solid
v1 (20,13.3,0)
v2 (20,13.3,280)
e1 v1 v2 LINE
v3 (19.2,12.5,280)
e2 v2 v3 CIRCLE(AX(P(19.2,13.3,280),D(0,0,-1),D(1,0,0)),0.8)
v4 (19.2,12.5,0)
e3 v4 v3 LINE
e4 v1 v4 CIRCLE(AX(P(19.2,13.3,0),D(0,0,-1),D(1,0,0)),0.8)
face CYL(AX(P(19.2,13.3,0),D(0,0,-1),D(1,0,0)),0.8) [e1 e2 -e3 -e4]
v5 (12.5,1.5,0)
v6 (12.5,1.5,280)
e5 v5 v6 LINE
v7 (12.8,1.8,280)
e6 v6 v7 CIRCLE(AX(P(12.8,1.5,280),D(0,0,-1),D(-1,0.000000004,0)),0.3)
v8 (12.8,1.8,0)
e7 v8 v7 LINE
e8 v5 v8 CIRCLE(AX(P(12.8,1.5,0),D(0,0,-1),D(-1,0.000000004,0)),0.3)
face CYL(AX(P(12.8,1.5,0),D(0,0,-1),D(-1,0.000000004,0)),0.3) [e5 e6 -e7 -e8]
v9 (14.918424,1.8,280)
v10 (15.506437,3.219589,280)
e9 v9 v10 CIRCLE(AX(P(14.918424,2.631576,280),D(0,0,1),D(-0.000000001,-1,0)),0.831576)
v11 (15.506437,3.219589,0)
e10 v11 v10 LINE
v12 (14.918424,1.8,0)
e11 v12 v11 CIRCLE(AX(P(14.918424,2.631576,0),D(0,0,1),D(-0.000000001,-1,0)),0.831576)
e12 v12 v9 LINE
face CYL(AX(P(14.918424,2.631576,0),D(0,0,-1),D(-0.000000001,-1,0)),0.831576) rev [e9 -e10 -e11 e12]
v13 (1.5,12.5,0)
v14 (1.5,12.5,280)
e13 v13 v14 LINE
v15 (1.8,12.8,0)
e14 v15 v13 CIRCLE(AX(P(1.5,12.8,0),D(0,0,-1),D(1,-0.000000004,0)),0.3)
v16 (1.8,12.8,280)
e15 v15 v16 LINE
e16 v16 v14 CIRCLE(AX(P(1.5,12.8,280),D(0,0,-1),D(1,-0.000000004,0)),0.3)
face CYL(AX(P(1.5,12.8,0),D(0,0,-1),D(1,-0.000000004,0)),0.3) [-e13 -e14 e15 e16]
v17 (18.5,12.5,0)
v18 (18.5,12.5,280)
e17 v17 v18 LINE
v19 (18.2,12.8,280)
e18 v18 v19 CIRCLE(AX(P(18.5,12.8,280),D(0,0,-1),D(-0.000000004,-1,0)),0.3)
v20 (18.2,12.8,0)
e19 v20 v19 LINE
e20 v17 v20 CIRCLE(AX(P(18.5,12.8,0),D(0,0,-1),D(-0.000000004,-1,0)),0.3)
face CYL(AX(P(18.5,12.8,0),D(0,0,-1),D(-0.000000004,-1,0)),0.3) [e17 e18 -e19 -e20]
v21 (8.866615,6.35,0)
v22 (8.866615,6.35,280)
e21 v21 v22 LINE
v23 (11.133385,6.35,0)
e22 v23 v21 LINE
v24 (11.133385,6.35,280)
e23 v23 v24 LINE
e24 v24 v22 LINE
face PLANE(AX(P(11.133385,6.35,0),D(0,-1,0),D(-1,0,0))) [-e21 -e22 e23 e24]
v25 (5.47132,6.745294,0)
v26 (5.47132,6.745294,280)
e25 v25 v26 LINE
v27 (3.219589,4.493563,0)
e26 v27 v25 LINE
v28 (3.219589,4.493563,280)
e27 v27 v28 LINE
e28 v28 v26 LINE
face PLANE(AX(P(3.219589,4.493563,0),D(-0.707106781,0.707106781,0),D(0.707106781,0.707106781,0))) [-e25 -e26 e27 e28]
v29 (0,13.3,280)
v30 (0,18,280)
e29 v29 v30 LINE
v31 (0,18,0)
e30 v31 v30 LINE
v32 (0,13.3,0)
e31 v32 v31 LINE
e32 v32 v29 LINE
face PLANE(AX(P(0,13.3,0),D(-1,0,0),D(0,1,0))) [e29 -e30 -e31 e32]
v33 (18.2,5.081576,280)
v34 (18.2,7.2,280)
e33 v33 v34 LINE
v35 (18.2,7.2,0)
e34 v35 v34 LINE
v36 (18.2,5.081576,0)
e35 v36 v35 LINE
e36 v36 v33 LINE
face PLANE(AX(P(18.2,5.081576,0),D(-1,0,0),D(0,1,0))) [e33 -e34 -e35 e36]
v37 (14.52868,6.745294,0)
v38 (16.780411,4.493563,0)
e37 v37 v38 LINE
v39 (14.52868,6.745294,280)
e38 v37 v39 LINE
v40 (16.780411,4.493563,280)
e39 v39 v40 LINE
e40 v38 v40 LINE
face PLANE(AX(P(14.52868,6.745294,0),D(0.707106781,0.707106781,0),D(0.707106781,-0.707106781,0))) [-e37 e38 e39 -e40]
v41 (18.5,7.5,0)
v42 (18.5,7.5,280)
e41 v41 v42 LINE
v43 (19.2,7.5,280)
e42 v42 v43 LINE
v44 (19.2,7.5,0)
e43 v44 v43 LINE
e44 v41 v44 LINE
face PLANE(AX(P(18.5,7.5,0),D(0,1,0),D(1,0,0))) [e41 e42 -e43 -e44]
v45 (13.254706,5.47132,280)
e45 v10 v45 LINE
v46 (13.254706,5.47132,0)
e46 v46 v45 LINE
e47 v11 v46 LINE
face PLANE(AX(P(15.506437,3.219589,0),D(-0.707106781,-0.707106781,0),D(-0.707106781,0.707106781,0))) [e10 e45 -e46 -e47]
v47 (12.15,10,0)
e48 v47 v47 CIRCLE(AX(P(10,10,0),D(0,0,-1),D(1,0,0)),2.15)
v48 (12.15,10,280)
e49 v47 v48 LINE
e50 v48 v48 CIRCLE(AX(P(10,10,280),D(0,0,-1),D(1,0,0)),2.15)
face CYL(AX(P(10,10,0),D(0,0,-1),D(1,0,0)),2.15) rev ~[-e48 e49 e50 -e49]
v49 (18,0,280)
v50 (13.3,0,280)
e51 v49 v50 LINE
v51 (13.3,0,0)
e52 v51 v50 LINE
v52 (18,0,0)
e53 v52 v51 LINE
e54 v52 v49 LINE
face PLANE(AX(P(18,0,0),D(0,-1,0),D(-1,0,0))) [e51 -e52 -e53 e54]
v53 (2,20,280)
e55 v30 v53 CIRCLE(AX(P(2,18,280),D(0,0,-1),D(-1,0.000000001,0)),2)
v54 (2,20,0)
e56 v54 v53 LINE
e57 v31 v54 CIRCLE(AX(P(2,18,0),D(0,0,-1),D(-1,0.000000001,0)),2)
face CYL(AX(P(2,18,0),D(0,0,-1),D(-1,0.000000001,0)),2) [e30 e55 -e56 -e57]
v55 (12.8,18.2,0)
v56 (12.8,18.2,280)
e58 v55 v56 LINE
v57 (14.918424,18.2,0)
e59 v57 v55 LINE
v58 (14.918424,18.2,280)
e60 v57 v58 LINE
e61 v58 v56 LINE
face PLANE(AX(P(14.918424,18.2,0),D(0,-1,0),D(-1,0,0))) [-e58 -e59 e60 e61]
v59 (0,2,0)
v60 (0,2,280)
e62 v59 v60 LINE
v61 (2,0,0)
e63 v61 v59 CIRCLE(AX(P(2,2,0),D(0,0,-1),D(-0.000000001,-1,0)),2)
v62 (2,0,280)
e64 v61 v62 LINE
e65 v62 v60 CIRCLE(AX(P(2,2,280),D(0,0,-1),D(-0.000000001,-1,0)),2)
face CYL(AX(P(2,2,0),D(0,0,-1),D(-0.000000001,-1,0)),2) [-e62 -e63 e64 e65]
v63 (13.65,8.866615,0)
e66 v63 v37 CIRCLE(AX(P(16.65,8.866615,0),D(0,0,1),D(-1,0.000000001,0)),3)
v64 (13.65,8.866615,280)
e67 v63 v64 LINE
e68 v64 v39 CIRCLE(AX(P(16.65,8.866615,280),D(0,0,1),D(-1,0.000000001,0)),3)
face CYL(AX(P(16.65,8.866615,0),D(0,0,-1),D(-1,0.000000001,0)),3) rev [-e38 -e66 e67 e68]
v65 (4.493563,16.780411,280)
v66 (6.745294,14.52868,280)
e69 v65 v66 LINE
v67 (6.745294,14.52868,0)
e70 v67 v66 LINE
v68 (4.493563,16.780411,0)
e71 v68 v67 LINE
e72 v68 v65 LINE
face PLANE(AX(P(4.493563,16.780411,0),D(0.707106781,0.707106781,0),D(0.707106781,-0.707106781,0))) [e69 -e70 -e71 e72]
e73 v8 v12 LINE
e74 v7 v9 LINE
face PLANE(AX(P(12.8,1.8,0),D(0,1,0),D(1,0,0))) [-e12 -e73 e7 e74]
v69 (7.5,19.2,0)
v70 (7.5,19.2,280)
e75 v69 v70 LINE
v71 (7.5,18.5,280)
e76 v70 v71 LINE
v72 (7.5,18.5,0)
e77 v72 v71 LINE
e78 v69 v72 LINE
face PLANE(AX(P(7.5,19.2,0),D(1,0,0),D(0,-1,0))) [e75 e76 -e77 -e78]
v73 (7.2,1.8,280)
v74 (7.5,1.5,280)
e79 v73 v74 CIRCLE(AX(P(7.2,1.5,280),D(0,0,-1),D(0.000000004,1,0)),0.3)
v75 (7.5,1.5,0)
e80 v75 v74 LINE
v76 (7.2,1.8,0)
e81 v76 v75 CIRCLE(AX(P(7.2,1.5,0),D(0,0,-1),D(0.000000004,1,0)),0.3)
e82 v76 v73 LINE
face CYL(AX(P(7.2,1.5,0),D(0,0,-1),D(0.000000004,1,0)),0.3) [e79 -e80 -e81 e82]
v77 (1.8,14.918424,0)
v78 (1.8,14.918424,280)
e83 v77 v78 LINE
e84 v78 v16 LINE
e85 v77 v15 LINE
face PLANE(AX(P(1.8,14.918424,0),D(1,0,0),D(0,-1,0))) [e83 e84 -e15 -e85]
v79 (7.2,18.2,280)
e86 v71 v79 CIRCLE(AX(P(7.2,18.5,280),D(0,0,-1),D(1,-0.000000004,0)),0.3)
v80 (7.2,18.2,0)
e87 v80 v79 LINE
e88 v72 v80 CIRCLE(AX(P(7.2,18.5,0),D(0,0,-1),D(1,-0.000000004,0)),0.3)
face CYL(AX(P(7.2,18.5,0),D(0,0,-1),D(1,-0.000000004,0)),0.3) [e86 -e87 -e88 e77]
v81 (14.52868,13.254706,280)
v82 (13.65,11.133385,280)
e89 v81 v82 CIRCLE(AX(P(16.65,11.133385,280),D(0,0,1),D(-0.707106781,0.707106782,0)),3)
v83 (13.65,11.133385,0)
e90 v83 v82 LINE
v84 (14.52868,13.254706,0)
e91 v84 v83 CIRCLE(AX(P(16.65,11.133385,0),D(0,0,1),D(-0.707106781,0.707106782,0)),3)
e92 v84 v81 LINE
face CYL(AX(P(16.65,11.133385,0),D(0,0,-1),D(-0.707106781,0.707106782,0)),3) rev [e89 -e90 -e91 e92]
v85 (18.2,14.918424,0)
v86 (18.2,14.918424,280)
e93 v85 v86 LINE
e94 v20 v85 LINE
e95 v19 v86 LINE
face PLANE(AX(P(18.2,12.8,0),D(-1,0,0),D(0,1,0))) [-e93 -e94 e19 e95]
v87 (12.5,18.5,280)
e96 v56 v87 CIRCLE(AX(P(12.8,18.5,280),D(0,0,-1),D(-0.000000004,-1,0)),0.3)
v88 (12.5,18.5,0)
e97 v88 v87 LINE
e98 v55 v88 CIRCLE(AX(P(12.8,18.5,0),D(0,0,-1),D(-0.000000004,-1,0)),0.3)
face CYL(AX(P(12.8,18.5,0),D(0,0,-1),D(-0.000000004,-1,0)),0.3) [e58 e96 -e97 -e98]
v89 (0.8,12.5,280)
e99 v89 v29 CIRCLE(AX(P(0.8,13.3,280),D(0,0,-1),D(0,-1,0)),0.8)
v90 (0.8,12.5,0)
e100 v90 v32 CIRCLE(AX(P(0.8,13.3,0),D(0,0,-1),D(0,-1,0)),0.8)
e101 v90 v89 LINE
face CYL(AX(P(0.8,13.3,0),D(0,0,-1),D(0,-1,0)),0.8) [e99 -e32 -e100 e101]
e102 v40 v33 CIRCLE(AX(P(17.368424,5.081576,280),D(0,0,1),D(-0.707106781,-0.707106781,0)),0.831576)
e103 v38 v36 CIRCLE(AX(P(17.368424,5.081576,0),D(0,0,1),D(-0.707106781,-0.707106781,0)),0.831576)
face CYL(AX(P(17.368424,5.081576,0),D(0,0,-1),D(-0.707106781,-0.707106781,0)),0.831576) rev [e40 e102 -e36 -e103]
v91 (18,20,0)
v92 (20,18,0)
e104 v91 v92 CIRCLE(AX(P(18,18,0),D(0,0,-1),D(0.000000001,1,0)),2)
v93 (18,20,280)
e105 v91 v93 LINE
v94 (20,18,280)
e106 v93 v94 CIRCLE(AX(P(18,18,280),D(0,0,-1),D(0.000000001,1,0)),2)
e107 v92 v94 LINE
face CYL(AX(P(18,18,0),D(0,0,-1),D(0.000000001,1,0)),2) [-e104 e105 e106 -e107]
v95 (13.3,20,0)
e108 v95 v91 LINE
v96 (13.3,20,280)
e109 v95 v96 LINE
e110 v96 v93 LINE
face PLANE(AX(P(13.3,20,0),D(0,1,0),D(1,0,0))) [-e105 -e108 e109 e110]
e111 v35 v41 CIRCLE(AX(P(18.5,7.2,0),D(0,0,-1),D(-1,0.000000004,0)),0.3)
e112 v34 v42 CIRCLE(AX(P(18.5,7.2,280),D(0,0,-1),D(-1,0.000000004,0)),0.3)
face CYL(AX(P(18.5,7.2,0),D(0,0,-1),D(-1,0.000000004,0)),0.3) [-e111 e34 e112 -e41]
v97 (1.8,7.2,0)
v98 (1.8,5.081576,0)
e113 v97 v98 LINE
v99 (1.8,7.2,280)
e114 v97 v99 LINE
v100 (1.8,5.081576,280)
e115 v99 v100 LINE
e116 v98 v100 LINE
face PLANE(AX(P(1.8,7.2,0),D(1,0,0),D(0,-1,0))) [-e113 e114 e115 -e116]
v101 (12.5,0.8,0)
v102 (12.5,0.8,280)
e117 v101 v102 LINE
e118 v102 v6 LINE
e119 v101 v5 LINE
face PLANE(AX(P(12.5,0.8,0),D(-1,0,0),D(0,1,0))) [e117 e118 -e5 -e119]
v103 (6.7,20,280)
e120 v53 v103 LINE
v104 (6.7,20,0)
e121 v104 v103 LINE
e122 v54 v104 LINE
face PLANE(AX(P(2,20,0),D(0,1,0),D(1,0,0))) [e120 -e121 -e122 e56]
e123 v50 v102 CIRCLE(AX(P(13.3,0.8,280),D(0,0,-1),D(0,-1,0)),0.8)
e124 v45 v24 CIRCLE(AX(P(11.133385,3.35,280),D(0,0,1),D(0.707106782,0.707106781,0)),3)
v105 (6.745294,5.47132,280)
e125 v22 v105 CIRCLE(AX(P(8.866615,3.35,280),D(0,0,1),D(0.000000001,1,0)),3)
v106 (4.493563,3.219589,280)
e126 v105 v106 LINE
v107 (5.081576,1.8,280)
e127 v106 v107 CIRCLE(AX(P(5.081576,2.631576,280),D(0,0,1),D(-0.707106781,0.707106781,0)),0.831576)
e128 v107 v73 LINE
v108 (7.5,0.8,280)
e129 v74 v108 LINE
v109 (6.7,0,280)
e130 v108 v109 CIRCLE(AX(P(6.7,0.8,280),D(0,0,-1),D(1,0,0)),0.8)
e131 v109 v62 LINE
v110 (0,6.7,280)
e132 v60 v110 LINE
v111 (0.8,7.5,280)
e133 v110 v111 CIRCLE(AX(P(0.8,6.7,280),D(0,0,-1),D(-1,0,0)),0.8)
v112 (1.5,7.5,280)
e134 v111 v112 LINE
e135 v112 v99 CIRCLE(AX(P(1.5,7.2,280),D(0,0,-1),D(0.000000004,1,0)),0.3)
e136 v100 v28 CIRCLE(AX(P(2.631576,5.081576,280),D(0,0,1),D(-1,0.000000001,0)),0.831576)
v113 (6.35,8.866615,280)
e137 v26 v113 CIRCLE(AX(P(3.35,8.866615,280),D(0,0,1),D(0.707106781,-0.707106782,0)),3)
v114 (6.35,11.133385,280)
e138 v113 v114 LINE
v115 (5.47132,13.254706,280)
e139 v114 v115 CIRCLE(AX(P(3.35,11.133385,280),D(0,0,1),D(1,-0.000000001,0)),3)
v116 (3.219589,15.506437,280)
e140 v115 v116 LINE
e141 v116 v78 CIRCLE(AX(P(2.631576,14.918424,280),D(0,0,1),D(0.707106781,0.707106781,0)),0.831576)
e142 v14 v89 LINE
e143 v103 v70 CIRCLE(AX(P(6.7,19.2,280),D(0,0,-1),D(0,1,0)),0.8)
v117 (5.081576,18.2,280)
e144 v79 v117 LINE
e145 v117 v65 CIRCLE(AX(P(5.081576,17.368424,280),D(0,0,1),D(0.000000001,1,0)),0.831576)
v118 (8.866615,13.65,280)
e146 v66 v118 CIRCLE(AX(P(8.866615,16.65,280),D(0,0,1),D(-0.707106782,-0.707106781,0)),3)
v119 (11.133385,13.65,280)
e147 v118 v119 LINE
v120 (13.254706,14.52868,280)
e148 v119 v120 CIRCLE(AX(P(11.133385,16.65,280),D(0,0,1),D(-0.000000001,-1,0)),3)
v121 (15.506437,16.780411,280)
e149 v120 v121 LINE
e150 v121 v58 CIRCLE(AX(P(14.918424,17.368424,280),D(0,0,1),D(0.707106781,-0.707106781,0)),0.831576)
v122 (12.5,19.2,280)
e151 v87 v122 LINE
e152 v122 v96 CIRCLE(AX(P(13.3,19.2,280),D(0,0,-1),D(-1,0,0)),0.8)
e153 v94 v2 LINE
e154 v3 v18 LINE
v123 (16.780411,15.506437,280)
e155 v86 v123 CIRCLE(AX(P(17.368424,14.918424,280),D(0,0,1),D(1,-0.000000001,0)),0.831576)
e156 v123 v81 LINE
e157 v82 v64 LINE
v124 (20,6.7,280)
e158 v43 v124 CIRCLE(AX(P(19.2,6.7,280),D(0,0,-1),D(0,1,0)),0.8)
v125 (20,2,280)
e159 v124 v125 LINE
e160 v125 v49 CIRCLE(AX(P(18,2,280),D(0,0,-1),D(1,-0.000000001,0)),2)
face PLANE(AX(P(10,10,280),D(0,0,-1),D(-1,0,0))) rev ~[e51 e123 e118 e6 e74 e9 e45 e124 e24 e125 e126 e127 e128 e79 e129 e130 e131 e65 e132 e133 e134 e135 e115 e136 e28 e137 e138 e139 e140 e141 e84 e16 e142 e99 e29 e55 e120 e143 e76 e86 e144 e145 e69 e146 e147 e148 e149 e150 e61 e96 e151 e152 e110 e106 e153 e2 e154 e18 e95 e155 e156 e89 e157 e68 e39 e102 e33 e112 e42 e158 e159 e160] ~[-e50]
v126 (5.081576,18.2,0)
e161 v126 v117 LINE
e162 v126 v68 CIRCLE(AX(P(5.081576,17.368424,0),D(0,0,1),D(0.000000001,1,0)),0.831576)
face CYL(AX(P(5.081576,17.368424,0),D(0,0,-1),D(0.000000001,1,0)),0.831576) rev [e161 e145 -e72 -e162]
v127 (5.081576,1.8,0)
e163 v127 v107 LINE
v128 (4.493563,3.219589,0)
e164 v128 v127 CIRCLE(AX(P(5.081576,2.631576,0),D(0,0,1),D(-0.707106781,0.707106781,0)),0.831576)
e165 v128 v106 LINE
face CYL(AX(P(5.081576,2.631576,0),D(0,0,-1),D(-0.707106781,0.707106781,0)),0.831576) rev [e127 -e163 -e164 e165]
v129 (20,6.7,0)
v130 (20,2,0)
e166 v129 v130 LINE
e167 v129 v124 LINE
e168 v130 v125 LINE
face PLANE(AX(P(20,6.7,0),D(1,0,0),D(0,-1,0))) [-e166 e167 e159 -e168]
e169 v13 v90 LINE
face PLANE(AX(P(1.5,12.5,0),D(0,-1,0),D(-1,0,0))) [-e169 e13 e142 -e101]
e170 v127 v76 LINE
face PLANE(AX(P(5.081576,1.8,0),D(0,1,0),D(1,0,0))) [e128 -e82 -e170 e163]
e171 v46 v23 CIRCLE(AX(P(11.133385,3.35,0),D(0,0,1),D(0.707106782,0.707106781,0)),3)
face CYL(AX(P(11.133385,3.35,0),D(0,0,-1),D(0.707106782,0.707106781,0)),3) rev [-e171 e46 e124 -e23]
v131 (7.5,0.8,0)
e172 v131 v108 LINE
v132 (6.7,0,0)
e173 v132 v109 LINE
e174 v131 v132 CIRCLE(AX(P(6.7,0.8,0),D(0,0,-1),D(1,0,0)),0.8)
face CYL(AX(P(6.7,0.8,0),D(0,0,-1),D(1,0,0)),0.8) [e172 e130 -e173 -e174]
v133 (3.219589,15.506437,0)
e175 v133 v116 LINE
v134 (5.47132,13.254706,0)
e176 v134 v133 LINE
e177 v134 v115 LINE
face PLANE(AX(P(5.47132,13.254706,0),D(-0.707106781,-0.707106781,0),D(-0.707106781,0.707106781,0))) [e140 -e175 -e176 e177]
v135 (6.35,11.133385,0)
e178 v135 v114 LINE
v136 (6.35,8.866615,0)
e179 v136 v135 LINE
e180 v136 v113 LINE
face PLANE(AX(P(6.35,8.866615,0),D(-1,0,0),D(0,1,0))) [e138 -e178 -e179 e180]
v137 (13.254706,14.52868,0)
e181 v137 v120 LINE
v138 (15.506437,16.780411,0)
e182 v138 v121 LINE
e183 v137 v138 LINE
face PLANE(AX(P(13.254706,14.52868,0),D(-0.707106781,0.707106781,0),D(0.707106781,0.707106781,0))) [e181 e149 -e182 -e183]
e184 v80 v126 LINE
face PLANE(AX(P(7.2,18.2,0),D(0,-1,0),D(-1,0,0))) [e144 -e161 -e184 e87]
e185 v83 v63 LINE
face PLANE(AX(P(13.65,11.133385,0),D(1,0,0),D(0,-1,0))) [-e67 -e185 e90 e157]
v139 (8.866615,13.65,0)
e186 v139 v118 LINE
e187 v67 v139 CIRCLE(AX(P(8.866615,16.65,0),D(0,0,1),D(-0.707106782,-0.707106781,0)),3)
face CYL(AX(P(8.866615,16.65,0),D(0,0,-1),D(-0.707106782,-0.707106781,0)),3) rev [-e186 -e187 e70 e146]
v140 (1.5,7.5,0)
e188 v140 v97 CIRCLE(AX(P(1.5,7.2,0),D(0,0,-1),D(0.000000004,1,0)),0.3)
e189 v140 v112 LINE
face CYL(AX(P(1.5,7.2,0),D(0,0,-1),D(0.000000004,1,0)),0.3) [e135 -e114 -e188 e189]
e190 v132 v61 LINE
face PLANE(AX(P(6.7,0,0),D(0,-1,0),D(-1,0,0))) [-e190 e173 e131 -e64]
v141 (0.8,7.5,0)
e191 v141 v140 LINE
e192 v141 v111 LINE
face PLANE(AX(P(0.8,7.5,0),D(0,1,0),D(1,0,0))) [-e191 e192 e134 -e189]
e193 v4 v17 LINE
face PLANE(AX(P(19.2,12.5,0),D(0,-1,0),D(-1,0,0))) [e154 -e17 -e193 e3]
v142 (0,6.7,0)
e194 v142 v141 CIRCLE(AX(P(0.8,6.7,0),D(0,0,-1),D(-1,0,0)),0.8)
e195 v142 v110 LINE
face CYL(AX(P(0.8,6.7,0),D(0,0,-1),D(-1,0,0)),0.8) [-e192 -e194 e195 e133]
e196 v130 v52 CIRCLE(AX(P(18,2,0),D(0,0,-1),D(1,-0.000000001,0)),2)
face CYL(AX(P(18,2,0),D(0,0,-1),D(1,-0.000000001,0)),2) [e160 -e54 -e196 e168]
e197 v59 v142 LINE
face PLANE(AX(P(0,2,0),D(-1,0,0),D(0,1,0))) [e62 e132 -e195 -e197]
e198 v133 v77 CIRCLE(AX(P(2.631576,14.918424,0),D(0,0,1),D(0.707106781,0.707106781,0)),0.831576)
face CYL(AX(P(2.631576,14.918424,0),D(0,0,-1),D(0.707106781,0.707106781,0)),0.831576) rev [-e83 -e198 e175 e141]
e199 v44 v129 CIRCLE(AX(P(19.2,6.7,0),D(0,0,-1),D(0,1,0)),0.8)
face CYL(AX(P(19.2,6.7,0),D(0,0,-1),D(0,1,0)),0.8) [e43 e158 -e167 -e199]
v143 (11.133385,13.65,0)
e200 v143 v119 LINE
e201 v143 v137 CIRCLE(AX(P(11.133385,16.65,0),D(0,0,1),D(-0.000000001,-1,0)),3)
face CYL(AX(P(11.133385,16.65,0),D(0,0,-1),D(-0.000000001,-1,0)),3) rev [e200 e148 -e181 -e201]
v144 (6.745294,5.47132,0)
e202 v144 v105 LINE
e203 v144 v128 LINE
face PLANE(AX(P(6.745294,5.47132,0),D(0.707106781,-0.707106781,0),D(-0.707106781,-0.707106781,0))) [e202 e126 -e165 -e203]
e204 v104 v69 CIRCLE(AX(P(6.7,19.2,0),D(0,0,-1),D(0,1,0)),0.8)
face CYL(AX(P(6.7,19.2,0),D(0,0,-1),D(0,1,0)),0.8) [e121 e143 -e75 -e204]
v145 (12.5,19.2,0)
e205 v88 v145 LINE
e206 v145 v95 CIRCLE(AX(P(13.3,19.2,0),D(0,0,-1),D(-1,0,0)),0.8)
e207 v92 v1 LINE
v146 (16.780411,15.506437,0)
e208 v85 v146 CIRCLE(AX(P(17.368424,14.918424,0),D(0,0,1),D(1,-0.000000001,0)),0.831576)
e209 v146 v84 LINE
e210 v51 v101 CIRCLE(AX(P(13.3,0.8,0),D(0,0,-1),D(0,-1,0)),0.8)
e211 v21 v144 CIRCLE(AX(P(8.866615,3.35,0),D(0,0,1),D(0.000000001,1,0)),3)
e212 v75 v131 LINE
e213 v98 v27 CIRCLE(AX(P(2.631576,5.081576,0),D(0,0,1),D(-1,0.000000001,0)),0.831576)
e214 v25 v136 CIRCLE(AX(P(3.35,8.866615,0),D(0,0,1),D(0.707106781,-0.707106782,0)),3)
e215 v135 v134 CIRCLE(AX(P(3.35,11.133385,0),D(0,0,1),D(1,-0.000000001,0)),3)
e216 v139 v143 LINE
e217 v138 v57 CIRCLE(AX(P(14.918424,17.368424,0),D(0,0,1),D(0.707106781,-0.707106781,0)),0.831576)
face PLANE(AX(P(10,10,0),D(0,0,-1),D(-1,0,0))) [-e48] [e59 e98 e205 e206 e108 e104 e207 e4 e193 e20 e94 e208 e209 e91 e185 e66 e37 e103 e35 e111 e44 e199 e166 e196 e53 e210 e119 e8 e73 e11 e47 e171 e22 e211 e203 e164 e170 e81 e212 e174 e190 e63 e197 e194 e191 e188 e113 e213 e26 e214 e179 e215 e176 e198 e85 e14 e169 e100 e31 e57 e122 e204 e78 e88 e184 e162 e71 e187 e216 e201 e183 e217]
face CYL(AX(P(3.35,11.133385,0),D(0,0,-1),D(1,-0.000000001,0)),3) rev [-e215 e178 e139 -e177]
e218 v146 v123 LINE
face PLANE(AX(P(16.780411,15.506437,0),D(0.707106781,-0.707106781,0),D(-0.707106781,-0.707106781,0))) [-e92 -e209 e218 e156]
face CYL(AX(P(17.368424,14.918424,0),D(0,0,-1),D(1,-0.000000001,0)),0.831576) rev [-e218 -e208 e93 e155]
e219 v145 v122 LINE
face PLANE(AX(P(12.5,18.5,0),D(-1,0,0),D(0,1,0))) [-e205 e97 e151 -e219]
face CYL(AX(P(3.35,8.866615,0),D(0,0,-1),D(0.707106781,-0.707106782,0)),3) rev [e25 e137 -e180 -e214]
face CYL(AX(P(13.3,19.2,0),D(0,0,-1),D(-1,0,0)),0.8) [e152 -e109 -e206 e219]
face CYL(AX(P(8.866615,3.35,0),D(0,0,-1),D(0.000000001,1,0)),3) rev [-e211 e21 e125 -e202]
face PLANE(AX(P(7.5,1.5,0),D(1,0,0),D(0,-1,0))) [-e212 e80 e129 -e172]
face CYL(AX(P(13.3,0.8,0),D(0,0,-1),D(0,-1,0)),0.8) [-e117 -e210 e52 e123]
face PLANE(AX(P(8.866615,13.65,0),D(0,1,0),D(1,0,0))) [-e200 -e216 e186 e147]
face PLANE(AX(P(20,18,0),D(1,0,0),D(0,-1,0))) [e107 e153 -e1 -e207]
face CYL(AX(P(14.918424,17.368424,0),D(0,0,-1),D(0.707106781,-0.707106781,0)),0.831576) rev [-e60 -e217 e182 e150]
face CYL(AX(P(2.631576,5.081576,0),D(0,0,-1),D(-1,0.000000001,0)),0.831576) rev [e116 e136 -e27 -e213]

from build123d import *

# Parameters (mm, degrees)
ESQUISSE1_R        = 2.15
BOSS_EXTRU_1_DEPTH = 280


with BuildPart() as part:
    # Esquisse1 → Boss.-Extru.1 (new body)
    with BuildSketch(Plane(origin=(0, 0, 0), x_dir=(-1, 0, 0), z_dir=(0, 0, -1))):
        with BuildLine():
            Line((-20, 6.7), (-20, 2))
            ThreePointArc((-20, 2), (-19.414213562, 0.585786438), (-18, 0))
            Line((-18, 0), (-13.3, 0))
            ThreePointArc((-13.3, 0), (-12.734314575, 0.234314575), (-12.5, 0.8))
            Line((-12.5, 0.8), (-12.5, 1.5))
            ThreePointArc((-12.5, 1.5), (-12.587867966, 1.712132034), (-12.8, 1.8))
            Line((-12.8, 1.8), (-14.918424061, 1.8))
            ThreePointArc((-14.918424061, 1.8), (-15.686700051, 2.313345604), (-15.506437047, 3.219588924))
            Line((-15.506437047, 3.219588924), (-13.254705627, 5.471320344))
            ThreePointArc((-13.254705627, 5.471320344), (-12.281435581, 6.121638598), (-11.133385284, 6.35))
            Line((-11.133385284, 6.35), (-8.866614716, 6.35))
            ThreePointArc((-8.866614716, 6.35), (-7.718564419, 6.121638598), (-6.745294373, 5.471320344))
            Line((-6.745294373, 5.471320344), (-4.493562953, 3.219588924))
            ThreePointArc((-4.493562953, 3.219588924), (-4.313299949, 2.313345604), (-5.081575939, 1.8))
            Line((-5.081575939, 1.8), (-7.2, 1.8))
            ThreePointArc((-7.2, 1.8), (-7.412132034, 1.712132034), (-7.5, 1.5))
            Line((-7.5, 1.5), (-7.5, 0.8))
            ThreePointArc((-7.5, 0.8), (-7.265685425, 0.234314575), (-6.7, 0))
            Line((-6.7, 0), (-2, 0))
            ThreePointArc((-2, 0), (-0.585786438, 0.585786438), (0, 2))
            Line((0, 2), (0, 6.7))
            ThreePointArc((0, 6.7), (-0.234314575, 7.265685425), (-0.8, 7.5))
            Line((-0.8, 7.5), (-1.5, 7.5))
            ThreePointArc((-1.5, 7.5), (-1.712132034, 7.412132034), (-1.8, 7.2))
            Line((-1.8, 7.2), (-1.8, 5.081575939))
            ThreePointArc((-1.8, 5.081575939), (-2.313345604, 4.313299949), (-3.219588924, 4.493562953))
            Line((-3.219588924, 4.493562953), (-5.471320344, 6.745294373))
            ThreePointArc((-5.471320344, 6.745294373), (-6.121638598, 7.718564419), (-6.35, 8.866614716))
            Line((-6.35, 8.866614716), (-6.35, 11.133385284))
            ThreePointArc((-6.35, 11.133385284), (-6.121638598, 12.281435581), (-5.471320344, 13.254705627))
            Line((-5.471320344, 13.254705627), (-3.219588924, 15.506437047))
            ThreePointArc((-3.219588924, 15.506437047), (-2.313345604, 15.686700051), (-1.8, 14.918424061))
            Line((-1.8, 14.918424061), (-1.8, 12.8))
            ThreePointArc((-1.8, 12.8), (-1.712132034, 12.587867966), (-1.5, 12.5))
            Line((-1.5, 12.5), (-0.8, 12.5))
            ThreePointArc((-0.8, 12.5), (-0.234314575, 12.734314575), (0, 13.3))
            Line((0, 13.3), (0, 18))
            ThreePointArc((0, 18), (-0.585786438, 19.414213562), (-2, 20))
            Line((-2, 20), (-6.7, 20))
            ThreePointArc((-6.7, 20), (-7.265685425, 19.765685425), (-7.5, 19.2))
            Line((-7.5, 19.2), (-7.5, 18.5))
            ThreePointArc((-7.5, 18.5), (-7.412132034, 18.287867966), (-7.2, 18.2))
            Line((-7.2, 18.2), (-5.081575939, 18.2))
            ThreePointArc((-5.081575939, 18.2), (-4.313299949, 17.686654396), (-4.493562953, 16.780411076))
            Line((-4.493562953, 16.780411076), (-6.745294373, 14.528679656))
            ThreePointArc((-6.745294373, 14.528679656), (-7.718564419, 13.878361402), (-8.866614716, 13.65))
            Line((-8.866614716, 13.65), (-11.133385284, 13.65))
            ThreePointArc((-11.133385284, 13.65), (-12.281435581, 13.878361402), (-13.254705627, 14.528679656))
            Line((-13.254705627, 14.528679656), (-15.506437047, 16.780411076))
            ThreePointArc((-15.506437047, 16.780411076), (-15.686700051, 17.686654396), (-14.918424061, 18.2))
            Line((-14.918424061, 18.2), (-12.8, 18.2))
            ThreePointArc((-12.8, 18.2), (-12.587867966, 18.287867966), (-12.5, 18.5))
            Line((-12.5, 18.5), (-12.5, 19.2))
            ThreePointArc((-12.5, 19.2), (-12.734314575, 19.765685425), (-13.3, 20))
            Line((-13.3, 20), (-18, 20))
            ThreePointArc((-18, 20), (-19.414213562, 19.414213562), (-20, 18))
            Line((-20, 18), (-20, 13.3))
            ThreePointArc((-20, 13.3), (-19.765685425, 12.734314575), (-19.2, 12.5))
            Line((-19.2, 12.5), (-18.5, 12.5))
            ThreePointArc((-18.5, 12.5), (-18.287867966, 12.587867966), (-18.2, 12.8))
            Line((-18.2, 12.8), (-18.2, 14.918424061))
            ThreePointArc((-18.2, 14.918424061), (-17.686654396, 15.686700051), (-16.780411076, 15.506437047))
            Line((-16.780411076, 15.506437047), (-14.528679656, 13.254705627))
            ThreePointArc((-14.528679656, 13.254705627), (-13.878361402, 12.281435581), (-13.65, 11.133385284))
            Line((-13.65, 11.133385284), (-13.65, 8.866614716))
            ThreePointArc((-13.65, 8.866614716), (-13.878361402, 7.718564419), (-14.528679656, 6.745294373))
            Line((-14.528679656, 6.745294373), (-16.780411076, 4.493562953))
            ThreePointArc((-16.780411076, 4.493562953), (-17.686654396, 4.313299949), (-18.2, 5.081575939))
            Line((-18.2, 5.081575939), (-18.2, 7.2))
            ThreePointArc((-18.2, 7.2), (-18.287867966, 7.412132034), (-18.5, 7.5))
            Line((-18.5, 7.5), (-19.2, 7.5))
            ThreePointArc((-19.2, 7.5), (-19.765685425, 7.265685425), (-20, 6.7))
        make_face()
        with Locations(Location((-10, 10, 0), (0, 0, 180))):
            Circle(ESQUISSE1_R, mode=Mode.SUBTRACT)
    extrude(amount=-BOSS_EXTRU_1_DEPTH)


solid = part.part
